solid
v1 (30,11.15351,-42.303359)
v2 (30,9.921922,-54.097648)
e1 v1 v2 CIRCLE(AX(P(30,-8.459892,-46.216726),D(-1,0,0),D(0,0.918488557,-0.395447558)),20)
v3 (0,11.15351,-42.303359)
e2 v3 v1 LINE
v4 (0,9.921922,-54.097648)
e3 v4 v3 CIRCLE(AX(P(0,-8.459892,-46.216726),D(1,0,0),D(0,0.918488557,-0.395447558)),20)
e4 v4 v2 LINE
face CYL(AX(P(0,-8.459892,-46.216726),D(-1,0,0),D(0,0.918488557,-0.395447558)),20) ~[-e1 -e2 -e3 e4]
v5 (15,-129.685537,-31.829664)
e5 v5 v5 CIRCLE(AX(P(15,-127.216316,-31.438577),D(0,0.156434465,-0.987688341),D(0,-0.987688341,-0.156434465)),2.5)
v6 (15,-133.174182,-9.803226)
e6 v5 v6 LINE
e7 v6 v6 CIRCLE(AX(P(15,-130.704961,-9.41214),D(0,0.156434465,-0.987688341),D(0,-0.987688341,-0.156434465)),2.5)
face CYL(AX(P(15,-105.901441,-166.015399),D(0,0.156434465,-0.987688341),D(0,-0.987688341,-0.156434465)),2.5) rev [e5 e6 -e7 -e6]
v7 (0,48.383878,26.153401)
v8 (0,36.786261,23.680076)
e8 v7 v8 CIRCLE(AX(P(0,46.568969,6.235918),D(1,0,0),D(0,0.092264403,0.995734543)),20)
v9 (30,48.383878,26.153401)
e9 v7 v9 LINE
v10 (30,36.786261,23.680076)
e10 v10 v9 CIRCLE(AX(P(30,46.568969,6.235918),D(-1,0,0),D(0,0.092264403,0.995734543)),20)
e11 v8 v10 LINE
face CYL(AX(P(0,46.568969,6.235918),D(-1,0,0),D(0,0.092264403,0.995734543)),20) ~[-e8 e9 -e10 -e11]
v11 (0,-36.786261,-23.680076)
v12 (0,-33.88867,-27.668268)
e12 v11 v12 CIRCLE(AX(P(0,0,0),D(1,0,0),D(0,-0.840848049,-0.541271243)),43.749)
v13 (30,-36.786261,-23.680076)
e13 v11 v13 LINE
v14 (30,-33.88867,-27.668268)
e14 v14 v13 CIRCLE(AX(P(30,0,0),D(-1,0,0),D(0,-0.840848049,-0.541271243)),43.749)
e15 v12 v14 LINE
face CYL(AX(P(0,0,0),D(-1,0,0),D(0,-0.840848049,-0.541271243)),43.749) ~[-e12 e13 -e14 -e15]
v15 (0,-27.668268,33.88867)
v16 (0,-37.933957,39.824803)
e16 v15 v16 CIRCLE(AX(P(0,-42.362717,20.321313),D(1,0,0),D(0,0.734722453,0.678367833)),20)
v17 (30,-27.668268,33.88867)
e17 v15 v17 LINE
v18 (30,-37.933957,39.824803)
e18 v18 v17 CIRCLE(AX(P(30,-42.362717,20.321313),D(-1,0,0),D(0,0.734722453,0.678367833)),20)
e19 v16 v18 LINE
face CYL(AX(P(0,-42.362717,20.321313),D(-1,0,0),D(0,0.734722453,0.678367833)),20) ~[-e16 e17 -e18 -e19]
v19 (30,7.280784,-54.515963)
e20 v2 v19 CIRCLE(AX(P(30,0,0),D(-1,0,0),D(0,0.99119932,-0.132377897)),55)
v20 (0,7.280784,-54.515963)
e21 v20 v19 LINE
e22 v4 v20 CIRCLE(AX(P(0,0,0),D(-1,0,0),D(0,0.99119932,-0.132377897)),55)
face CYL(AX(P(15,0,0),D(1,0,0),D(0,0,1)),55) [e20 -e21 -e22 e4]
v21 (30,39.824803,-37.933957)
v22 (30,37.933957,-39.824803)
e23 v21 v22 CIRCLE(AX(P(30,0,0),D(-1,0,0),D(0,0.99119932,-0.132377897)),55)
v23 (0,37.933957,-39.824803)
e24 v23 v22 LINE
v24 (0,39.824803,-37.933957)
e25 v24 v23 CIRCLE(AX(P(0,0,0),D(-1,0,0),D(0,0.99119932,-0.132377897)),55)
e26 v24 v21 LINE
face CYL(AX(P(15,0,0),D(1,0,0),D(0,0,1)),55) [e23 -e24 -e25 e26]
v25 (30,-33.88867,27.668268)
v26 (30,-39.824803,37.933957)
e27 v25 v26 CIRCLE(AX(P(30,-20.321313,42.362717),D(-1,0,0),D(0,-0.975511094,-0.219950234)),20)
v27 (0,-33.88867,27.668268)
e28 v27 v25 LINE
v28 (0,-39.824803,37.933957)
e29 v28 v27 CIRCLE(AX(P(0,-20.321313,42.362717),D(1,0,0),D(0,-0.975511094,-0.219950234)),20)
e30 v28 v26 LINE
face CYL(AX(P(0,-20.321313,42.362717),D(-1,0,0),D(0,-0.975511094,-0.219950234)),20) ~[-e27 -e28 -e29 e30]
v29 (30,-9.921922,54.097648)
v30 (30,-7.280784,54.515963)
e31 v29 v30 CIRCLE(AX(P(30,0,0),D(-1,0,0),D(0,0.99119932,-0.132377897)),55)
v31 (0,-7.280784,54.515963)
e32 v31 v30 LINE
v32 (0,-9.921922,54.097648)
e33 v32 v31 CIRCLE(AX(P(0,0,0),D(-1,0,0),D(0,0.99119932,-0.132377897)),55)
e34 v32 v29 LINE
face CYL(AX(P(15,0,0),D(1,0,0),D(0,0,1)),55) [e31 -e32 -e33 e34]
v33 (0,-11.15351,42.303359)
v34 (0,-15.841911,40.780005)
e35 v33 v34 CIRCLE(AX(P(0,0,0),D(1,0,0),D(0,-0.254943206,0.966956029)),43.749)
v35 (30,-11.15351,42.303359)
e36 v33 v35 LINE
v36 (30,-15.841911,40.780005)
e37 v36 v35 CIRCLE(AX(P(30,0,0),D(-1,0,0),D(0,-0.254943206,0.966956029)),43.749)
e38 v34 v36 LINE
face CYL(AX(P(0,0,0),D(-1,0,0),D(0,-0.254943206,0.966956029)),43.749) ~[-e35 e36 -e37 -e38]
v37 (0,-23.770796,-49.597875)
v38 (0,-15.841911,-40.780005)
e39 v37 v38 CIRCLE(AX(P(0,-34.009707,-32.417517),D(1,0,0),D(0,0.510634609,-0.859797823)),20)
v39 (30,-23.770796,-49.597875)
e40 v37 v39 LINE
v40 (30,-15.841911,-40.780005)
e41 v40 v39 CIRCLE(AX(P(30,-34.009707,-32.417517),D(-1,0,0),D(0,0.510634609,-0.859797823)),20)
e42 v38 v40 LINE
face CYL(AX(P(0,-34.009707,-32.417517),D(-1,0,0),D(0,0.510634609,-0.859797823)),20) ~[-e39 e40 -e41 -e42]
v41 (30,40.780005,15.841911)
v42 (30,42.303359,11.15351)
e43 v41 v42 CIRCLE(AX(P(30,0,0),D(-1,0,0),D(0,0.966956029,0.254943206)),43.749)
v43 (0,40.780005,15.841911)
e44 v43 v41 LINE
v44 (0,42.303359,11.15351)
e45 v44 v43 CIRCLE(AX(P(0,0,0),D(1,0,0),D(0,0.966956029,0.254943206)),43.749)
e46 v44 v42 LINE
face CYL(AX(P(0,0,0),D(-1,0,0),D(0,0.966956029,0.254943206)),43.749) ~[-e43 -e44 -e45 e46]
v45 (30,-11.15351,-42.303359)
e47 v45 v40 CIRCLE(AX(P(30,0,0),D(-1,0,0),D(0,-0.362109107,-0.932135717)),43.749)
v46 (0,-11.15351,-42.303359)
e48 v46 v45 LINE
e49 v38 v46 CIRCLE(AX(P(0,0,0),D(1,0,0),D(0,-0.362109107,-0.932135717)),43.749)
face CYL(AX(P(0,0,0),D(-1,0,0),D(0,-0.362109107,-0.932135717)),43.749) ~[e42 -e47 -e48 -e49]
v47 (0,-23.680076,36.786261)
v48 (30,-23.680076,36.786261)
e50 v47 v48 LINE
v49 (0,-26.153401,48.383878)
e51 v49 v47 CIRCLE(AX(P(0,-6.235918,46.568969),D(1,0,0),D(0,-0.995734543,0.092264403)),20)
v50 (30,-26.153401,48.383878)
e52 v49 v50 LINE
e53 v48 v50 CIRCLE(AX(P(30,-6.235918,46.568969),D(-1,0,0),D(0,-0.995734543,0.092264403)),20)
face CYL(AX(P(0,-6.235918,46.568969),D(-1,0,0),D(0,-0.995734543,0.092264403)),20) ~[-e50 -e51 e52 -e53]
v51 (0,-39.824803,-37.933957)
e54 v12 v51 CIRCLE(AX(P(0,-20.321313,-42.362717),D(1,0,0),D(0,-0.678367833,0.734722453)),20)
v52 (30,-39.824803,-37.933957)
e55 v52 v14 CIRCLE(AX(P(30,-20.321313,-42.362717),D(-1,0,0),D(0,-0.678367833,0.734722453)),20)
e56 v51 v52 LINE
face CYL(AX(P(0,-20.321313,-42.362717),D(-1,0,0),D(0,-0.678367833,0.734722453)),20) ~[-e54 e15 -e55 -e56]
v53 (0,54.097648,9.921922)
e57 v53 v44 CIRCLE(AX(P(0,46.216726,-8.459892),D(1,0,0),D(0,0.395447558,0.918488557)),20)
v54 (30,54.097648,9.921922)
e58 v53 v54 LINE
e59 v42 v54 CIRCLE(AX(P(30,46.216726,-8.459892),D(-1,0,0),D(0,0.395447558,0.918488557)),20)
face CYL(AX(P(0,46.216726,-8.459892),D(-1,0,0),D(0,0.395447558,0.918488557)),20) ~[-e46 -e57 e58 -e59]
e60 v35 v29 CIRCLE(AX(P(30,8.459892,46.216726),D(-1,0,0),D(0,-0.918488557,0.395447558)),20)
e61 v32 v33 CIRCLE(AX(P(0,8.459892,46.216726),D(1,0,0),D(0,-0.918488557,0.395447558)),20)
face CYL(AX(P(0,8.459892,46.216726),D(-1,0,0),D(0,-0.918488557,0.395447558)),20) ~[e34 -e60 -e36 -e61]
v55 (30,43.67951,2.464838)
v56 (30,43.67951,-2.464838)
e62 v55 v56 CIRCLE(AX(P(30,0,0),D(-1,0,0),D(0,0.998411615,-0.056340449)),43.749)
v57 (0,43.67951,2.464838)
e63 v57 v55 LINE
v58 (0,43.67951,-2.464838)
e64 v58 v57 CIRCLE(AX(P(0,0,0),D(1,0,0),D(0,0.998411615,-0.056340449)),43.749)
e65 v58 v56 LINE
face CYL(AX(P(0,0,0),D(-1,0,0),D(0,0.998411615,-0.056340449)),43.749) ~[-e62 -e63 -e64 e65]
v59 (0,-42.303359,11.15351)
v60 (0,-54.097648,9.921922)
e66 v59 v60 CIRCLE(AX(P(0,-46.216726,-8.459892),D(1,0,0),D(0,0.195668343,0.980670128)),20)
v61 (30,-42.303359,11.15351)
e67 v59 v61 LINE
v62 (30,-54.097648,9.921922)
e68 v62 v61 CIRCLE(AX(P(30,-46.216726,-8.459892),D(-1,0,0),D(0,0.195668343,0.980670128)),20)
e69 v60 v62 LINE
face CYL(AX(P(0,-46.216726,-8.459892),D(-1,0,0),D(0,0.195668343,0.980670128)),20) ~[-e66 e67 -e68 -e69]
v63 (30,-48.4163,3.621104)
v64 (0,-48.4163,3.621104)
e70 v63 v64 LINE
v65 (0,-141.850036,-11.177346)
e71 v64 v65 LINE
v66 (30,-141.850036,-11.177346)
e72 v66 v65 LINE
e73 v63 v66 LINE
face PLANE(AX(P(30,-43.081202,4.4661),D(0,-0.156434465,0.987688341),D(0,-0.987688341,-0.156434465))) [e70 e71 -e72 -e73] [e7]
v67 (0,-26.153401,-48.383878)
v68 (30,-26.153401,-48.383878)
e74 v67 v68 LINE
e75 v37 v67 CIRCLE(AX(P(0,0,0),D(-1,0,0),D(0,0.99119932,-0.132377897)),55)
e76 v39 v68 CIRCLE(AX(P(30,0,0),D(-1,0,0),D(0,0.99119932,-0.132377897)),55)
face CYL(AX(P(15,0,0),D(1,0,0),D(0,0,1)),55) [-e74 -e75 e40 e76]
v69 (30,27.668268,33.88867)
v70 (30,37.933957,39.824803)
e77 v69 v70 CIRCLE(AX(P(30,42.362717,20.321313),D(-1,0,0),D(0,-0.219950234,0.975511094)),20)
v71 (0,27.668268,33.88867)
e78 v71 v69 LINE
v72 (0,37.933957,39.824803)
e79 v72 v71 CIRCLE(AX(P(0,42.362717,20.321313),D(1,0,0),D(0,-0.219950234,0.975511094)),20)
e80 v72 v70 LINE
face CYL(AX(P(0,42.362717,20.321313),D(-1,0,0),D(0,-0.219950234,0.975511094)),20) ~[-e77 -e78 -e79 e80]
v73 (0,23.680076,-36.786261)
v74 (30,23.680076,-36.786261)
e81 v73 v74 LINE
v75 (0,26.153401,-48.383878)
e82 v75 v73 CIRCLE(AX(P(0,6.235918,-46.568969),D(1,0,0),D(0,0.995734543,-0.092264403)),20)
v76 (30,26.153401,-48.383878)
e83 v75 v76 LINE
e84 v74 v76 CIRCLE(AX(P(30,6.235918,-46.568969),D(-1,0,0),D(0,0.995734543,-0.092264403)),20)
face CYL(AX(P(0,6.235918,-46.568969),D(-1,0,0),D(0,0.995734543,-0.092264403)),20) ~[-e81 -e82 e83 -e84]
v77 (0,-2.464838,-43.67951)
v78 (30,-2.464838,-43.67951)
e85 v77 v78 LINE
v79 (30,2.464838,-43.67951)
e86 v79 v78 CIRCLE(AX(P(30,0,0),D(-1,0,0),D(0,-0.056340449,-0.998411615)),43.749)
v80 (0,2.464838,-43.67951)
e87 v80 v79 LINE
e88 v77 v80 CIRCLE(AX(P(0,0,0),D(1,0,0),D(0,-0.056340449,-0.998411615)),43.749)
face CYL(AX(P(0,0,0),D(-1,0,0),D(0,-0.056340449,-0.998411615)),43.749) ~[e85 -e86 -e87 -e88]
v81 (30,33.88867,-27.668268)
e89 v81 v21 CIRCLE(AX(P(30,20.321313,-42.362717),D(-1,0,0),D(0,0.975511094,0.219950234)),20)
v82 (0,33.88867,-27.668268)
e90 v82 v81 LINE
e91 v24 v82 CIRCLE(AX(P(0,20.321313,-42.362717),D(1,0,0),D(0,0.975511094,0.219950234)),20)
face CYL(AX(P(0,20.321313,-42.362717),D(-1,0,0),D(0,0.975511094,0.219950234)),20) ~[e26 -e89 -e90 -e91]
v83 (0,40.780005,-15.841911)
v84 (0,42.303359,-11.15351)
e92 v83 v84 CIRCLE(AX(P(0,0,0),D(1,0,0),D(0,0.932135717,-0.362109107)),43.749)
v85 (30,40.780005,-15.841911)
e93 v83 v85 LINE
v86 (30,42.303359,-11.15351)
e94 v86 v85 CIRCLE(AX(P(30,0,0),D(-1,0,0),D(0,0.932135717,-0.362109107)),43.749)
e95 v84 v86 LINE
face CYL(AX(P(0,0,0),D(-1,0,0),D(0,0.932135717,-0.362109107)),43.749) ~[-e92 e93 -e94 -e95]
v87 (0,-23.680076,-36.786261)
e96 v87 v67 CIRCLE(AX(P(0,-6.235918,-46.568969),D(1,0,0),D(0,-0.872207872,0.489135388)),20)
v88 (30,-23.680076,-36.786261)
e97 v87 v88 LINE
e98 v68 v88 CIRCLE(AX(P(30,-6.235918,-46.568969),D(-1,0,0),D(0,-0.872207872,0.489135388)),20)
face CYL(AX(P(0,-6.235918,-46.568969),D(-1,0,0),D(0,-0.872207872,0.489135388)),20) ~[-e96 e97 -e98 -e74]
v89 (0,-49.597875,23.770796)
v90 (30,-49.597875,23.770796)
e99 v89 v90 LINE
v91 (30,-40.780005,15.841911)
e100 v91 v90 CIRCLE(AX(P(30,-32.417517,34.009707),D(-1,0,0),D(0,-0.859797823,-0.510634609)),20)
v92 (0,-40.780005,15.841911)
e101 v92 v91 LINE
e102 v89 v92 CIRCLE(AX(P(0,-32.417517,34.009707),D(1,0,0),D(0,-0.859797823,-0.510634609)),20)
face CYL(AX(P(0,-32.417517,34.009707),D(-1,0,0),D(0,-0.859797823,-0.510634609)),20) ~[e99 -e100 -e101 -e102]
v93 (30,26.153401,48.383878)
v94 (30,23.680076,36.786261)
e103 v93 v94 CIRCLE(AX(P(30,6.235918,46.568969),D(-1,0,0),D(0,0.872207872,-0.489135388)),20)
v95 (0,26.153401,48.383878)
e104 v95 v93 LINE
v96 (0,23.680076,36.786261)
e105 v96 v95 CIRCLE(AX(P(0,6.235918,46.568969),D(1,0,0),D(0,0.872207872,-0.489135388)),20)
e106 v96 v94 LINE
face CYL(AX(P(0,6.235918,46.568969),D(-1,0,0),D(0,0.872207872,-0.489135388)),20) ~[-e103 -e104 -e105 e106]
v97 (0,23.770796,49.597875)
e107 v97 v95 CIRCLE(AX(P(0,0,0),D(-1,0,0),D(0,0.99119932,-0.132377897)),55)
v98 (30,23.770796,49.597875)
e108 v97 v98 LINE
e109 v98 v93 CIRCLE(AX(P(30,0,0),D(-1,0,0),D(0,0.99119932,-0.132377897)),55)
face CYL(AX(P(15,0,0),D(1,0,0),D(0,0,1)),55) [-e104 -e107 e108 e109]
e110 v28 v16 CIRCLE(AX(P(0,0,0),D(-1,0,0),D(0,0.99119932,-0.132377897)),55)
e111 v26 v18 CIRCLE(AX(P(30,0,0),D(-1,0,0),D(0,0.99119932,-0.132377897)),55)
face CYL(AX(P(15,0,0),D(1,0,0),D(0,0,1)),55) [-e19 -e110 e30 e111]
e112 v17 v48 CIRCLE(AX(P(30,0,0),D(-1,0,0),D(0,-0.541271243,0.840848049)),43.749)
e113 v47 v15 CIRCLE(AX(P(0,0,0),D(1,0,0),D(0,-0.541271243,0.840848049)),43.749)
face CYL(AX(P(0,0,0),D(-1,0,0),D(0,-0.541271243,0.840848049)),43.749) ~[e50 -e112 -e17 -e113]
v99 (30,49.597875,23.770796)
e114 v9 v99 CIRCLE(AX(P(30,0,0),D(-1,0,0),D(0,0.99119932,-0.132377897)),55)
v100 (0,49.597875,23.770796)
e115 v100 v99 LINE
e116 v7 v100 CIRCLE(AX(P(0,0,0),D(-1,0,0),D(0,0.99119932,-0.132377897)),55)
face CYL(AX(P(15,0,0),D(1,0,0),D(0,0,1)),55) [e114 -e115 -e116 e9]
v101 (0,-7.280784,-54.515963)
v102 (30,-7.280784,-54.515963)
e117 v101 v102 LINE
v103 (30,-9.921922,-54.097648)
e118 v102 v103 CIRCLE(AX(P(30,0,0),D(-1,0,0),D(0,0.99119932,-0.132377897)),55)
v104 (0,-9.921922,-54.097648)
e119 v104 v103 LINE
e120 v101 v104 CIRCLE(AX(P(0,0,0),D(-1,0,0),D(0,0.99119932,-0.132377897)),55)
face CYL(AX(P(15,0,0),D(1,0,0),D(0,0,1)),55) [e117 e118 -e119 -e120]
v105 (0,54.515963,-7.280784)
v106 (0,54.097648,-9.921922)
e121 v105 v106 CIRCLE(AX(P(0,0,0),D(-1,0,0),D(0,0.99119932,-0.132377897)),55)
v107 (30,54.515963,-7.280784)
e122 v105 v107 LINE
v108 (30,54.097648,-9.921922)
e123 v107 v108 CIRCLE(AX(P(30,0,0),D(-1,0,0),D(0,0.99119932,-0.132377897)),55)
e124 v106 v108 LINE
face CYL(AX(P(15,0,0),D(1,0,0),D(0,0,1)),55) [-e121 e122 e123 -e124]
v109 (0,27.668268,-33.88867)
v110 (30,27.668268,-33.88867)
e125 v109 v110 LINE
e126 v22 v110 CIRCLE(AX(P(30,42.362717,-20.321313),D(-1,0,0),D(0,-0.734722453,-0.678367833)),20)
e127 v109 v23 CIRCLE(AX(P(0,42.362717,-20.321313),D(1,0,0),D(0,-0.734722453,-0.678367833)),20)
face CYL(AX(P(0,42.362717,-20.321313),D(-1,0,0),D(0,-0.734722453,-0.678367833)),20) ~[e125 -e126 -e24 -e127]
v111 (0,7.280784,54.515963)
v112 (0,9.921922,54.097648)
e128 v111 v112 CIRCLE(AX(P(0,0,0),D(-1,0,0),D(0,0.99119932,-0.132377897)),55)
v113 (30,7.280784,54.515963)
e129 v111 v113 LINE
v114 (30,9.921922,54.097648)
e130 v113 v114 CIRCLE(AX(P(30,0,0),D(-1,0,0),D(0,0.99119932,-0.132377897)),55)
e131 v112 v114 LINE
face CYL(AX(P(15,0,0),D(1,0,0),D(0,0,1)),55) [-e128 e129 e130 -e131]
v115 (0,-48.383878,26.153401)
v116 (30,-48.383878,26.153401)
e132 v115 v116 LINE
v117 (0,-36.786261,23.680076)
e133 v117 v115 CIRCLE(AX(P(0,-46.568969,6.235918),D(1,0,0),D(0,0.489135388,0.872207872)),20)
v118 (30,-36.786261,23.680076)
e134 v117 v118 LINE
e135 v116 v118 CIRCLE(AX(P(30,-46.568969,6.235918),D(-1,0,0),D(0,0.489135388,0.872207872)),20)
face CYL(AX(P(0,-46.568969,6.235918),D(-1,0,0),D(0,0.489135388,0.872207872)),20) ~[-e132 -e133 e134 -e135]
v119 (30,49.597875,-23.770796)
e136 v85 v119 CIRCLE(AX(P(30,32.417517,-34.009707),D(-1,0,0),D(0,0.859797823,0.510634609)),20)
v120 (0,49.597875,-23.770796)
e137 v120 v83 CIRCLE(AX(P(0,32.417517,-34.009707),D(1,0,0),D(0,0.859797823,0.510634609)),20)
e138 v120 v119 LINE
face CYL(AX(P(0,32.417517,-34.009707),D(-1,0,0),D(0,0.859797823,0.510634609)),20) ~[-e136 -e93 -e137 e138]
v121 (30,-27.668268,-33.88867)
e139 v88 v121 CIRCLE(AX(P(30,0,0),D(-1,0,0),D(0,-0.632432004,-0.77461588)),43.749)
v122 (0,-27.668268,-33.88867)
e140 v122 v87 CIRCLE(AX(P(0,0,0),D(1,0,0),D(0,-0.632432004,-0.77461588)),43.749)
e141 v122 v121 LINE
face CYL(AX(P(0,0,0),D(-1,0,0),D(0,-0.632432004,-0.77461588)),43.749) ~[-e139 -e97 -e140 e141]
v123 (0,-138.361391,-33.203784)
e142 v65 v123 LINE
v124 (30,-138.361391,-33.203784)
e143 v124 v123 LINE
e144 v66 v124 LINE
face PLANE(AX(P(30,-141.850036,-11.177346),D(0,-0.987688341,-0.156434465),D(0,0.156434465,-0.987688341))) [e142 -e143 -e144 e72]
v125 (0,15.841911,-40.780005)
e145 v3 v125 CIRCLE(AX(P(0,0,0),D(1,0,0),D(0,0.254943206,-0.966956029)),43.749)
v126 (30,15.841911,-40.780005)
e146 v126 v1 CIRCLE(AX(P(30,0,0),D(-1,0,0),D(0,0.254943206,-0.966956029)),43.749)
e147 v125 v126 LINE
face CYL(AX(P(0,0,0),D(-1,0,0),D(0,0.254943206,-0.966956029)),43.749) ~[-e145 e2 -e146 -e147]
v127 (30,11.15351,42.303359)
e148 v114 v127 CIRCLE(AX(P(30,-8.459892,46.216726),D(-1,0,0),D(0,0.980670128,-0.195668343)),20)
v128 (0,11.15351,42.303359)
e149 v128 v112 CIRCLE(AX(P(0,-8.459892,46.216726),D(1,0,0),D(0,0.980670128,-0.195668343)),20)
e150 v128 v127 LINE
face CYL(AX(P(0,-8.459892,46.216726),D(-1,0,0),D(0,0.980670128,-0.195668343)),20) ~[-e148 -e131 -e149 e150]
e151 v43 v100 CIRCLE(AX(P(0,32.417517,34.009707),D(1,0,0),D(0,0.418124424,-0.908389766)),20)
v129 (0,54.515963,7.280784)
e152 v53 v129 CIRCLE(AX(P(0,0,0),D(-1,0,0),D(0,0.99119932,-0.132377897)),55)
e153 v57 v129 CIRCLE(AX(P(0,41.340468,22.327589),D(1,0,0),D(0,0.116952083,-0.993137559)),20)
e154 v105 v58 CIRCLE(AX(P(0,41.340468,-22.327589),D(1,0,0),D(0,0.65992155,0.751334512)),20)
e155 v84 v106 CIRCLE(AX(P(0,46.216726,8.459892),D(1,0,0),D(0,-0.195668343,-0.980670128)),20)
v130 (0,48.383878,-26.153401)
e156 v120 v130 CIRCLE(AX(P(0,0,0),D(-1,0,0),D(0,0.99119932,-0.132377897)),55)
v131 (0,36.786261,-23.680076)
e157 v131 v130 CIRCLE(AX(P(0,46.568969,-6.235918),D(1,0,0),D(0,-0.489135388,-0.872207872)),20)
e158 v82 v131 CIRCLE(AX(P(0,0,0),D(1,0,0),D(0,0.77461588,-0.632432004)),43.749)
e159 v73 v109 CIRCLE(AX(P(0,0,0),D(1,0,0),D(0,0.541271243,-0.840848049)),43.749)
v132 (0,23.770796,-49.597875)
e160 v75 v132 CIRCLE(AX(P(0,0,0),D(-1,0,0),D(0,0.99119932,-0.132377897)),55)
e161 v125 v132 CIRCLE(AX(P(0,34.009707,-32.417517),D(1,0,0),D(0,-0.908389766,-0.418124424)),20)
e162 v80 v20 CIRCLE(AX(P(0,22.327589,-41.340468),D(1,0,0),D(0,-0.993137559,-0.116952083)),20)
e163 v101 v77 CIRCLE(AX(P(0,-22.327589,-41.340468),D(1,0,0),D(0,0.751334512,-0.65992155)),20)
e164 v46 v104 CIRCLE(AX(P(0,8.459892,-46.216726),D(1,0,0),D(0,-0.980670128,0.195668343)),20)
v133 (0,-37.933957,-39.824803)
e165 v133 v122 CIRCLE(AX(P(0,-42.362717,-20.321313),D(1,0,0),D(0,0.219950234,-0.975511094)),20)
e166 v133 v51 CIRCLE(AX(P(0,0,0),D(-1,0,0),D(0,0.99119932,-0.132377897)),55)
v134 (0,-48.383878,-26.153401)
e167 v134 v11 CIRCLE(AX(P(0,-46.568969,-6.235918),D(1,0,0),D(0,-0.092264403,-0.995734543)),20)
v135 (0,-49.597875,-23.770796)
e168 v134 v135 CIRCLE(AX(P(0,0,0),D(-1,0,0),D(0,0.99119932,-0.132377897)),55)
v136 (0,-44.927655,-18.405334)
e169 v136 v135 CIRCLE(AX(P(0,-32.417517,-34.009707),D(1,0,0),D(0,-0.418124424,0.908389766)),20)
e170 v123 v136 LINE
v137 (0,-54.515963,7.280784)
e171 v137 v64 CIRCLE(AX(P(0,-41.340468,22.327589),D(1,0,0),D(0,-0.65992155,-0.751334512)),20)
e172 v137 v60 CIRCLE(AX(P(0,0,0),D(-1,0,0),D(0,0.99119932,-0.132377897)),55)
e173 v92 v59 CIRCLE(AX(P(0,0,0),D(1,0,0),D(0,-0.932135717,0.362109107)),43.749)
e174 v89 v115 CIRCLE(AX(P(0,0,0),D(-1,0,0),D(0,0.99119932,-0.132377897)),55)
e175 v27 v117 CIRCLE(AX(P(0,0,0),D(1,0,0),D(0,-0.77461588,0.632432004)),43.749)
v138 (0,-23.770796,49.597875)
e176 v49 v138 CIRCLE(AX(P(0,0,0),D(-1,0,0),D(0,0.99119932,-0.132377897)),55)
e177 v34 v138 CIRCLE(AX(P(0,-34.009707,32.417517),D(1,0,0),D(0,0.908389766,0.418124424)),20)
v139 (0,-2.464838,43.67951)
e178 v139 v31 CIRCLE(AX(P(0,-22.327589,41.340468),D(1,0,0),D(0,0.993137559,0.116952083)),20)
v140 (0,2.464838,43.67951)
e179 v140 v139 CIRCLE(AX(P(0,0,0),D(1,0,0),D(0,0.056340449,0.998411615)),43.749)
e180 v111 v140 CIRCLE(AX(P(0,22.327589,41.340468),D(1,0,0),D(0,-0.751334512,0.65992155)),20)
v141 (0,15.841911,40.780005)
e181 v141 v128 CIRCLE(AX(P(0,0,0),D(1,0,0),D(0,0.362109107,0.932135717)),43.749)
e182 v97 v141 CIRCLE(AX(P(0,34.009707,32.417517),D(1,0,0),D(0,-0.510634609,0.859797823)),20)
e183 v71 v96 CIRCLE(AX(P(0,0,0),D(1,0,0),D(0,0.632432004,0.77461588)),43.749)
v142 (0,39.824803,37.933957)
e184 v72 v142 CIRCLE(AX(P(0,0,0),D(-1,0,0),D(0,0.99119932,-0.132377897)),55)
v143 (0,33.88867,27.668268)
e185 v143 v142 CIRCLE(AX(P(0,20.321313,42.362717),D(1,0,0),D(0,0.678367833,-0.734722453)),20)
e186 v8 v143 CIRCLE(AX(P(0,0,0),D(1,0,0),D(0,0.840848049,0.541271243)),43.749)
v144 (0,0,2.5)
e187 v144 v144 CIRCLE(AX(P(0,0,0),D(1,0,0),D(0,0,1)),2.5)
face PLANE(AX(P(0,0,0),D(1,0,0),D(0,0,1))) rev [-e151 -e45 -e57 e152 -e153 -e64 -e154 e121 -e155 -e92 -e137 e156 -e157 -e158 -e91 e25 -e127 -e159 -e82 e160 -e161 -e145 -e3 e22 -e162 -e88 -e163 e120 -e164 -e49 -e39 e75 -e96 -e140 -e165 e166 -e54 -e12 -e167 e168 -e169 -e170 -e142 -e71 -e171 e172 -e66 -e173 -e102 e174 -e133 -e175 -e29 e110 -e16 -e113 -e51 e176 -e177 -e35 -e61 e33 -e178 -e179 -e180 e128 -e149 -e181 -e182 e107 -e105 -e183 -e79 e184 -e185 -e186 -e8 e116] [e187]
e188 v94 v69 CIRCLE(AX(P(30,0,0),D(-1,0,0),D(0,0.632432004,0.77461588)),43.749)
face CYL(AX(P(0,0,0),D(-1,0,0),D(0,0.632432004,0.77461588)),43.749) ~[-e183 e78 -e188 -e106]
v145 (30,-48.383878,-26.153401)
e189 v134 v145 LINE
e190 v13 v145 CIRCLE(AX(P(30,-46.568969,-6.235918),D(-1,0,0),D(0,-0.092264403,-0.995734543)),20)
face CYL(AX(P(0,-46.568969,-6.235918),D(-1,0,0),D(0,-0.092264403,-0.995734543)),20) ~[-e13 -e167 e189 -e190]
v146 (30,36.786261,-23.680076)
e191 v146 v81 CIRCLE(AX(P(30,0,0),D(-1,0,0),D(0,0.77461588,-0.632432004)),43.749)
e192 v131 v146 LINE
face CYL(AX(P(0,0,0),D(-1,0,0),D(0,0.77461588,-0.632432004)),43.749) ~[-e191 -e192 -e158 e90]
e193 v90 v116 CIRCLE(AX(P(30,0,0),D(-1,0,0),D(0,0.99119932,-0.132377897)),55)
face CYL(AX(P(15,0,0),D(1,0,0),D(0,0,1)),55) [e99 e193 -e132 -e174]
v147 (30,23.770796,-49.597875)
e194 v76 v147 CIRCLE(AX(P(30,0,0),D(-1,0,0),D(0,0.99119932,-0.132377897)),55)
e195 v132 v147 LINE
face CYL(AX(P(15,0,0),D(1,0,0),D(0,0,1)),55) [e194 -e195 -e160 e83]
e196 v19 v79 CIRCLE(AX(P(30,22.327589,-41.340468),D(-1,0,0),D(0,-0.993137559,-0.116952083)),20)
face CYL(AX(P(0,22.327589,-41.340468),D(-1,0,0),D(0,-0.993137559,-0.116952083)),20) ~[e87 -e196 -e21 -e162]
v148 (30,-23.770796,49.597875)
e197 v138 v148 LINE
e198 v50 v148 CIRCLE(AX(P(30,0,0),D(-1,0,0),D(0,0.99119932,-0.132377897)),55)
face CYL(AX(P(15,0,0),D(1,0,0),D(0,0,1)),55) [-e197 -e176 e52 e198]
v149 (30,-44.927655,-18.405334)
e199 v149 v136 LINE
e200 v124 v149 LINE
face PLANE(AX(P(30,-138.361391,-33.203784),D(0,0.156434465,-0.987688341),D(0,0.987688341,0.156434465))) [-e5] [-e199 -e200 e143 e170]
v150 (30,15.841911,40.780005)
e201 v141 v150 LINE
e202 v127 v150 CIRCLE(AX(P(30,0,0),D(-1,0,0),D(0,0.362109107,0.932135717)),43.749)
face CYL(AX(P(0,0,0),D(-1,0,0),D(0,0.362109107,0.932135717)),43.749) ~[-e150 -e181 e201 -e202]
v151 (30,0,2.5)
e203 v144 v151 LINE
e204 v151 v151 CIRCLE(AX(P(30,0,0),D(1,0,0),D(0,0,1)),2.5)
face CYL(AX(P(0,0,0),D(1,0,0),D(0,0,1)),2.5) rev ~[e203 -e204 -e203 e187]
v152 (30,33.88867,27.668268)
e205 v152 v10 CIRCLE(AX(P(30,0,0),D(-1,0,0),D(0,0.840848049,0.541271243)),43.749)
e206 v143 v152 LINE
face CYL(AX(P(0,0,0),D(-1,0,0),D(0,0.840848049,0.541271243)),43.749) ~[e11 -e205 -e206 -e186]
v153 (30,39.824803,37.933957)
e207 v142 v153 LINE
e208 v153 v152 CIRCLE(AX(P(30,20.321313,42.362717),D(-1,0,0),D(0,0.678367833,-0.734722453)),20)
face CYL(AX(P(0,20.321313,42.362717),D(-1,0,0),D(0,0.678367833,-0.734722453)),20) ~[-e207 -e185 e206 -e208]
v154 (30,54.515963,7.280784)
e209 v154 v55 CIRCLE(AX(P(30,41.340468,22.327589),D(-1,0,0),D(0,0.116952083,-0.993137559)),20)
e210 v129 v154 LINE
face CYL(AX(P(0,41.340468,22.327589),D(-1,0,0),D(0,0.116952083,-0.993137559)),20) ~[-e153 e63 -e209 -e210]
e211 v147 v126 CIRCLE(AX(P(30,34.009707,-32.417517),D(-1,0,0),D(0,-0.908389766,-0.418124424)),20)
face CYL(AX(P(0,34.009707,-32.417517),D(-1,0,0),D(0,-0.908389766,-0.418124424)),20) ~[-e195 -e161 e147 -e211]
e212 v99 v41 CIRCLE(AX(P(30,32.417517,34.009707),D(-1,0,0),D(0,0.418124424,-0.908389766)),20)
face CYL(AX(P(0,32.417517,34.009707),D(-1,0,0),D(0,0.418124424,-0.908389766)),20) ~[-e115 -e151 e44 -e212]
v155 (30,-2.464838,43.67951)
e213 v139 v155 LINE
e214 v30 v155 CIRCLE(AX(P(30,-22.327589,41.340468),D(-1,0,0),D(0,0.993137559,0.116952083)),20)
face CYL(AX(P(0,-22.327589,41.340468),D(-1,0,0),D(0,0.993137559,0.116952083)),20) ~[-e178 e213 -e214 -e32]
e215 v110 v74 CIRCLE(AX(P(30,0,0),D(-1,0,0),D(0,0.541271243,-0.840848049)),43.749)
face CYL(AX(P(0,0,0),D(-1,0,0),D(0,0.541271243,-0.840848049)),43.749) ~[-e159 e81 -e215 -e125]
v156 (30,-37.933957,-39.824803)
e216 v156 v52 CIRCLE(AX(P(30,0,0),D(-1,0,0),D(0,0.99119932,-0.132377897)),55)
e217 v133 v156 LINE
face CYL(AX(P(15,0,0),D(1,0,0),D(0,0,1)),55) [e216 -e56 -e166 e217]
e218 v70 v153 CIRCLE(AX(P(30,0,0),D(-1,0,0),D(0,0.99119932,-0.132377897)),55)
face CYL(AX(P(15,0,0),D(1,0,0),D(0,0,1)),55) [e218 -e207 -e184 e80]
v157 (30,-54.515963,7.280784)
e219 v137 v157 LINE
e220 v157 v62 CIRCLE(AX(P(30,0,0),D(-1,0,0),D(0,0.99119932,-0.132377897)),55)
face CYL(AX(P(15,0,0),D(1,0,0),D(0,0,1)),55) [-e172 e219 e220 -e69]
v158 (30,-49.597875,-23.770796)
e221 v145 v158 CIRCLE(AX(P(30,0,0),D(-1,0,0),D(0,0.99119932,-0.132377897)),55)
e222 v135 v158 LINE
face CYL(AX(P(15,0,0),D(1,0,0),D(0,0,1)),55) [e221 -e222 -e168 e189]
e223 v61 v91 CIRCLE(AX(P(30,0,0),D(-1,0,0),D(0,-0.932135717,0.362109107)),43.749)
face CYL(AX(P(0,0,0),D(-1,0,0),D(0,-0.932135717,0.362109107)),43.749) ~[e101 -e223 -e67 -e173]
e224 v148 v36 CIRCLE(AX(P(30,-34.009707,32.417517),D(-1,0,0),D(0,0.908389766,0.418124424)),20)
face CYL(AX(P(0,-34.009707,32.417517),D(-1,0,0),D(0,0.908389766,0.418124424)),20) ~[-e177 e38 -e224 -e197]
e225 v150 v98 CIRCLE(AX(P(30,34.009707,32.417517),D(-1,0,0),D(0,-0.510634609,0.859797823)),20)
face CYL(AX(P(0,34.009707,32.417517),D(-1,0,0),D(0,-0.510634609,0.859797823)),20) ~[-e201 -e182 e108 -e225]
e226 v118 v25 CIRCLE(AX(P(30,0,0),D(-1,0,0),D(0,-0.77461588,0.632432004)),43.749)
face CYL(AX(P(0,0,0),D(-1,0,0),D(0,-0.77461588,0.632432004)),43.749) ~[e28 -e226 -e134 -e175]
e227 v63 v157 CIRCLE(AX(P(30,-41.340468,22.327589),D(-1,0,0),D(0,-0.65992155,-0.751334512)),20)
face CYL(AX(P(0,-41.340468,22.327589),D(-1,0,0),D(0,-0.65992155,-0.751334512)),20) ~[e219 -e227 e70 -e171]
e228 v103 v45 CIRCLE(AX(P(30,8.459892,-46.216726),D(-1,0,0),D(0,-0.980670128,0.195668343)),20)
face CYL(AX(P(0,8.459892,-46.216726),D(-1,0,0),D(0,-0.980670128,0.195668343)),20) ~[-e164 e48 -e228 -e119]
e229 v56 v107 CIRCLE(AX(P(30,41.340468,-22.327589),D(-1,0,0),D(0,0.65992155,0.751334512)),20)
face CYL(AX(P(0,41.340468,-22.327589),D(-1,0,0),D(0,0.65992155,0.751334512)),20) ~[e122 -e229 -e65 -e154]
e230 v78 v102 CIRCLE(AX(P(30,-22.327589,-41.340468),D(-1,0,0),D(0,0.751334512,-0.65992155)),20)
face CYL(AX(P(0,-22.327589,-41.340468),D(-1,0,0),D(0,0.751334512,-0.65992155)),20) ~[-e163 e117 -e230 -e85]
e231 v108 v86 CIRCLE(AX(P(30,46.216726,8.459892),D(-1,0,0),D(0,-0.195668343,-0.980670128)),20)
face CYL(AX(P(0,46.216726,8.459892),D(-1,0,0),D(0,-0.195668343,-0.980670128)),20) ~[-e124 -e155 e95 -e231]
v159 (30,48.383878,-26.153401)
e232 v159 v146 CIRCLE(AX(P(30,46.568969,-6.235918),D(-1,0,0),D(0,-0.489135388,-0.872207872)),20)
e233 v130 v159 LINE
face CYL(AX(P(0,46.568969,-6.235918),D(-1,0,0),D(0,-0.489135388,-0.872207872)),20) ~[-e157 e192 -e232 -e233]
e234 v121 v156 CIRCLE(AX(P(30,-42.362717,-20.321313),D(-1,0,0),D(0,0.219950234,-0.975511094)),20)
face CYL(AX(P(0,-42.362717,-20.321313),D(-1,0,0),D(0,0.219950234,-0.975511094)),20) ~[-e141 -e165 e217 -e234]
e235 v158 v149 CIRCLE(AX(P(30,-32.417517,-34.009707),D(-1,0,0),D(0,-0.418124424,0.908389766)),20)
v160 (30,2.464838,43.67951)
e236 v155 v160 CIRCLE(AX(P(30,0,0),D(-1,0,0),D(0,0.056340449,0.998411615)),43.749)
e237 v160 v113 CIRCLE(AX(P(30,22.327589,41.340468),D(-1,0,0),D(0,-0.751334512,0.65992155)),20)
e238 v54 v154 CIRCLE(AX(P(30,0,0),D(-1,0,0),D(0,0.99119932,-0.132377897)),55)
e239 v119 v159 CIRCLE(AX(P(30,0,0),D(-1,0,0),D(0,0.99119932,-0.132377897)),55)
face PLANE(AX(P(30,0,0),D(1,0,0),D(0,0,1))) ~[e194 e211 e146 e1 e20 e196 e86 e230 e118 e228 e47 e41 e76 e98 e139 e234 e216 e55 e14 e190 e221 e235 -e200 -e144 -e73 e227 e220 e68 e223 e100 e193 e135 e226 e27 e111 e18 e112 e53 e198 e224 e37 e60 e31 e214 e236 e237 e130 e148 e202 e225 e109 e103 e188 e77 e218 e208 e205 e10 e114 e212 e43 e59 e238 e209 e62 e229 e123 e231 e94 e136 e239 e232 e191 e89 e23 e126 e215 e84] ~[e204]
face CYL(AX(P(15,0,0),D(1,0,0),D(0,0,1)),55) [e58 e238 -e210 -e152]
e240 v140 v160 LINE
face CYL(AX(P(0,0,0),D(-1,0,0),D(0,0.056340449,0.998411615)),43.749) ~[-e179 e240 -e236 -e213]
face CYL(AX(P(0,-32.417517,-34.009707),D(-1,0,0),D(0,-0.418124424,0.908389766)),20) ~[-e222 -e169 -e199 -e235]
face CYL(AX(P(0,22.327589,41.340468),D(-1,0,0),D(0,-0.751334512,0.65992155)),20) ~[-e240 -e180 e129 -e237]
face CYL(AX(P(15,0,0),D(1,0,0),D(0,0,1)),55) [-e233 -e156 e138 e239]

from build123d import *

# Parameters (mm, degrees)
BASPROSKE_W              = 30
BASPROSKE_H              = 55
TOOTHCUT_DEPTH           = 84.366660003
TEETHCUTS_COUNT          = 20
BORSKE_R                 = 2.5
BORE_DEPTH               = 50.0000508
EXTRUDE_1_DEPTH          = 30
CUT_EXTRUDE_1_DEPTH      = 158.555338193
CUT_EXTRUDE_1_DEPTH_BACK = 158.555338193
SKETCH_7_R               = 2.5


with BuildPart() as part:
    # BasProSke → Base-Revolve (revolve)
    with BuildSketch(Plane(origin=(0, 0, 0), x_dir=(1, 0, 0), z_dir=(0, 1, 0)), mode=Mode.PRIVATE) as base_revolve_sk:
        with Locations((15, 27.5)):
            Rectangle(BASPROSKE_W, BASPROSKE_H)
    revolve(base_revolve_sk.sketch.rotate(Axis((-10, 0, 0), (1, 0, 0)), 180), axis=Axis((-10, 0, 0), (1, 0, 0)))

    # TooCutSke → ToothCut (cut, through all)
    with BuildSketch(Plane(origin=(0, 0, 0), x_dir=(0, 0, -1), z_dir=(1, 0, 0))):
        with BuildLine():
            ThreePointArc((2.464838288, 43.679509764), (0, 43.749), (-2.464838288, 43.679509764))
            ThreePointArc((-2.464838288, 43.679509764), (-4.057398861, 49.476814676), (-7.300899231, 54.538899105))
            ThreePointArc((-7.300899231, 54.538899105), (0, 55.0254), (7.300899231, 54.538899105))
            ThreePointArc((7.300899231, 54.538899105), (4.057398861, 49.476814676), (2.464838288, 43.679509764))
        make_face()
    toothcut = extrude(amount=TOOTHCUT_DEPTH, mode=Mode.SUBTRACT)

    # TeethCuts: ToothCut ×20 about axis
    teethcuts_axis = Axis((0, 0, 0), (1, 0, 0))
    for i in range(1, TEETHCUTS_COUNT):
        add(toothcut.rotate(teethcuts_axis, i * 360 / TEETHCUTS_COUNT), mode=Mode.SUBTRACT)

    # BorSke → Bore (cut, symmetric)
    with BuildSketch(Plane(origin=(0, 0, 0), x_dir=(0, 0, -1), z_dir=(1, 0, 0))):
        with Locations(Location((0, 0, 0), (0, 0, 180))):
            Circle(BORSKE_R)
    extrude(amount=BORE_DEPTH, both=True, mode=Mode.SUBTRACT)

    # 草图6 → 凸台-拉伸1 (add)
    with BuildSketch(Plane(origin=(30, 0, 0), x_dir=(0, 0, -1), z_dir=(1, 0, 0))):
        with BuildLine():
            Line((-4.466100318, -43.081201999), (11.177346186, -141.850036058))
            Line((11.177346186, -141.850036058), (33.20378387, -138.361391053))
            Line((33.20378387, -138.361391053), (17.560337366, -39.592556994))
            ThreePointArc((17.560337366, -39.592556994), (6.77314241, -42.763938152), (-4.466100318, -43.081201999))
        make_face()
    extrude(amount=-EXTRUDE_1_DEPTH)

    # 草图7 → 切除-拉伸1 (cut, two sides: drawn at the far end of the back side and taken through both)
    with BuildSketch(Plane(origin=(0, -1.744322502, 11.013218842), x_dir=(1, 0, 0), z_dir=(0, -0.15643446504023845, 0.9876883405951365)).offset(-CUT_EXTRUDE_1_DEPTH_BACK)):
        with Locations(Location((15, -130.568148899, 0), (0, 0, 270))):
            Circle(SKETCH_7_R)
    extrude(amount=CUT_EXTRUDE_1_DEPTH + CUT_EXTRUDE_1_DEPTH_BACK, mode=Mode.SUBTRACT)


solid = part.part
